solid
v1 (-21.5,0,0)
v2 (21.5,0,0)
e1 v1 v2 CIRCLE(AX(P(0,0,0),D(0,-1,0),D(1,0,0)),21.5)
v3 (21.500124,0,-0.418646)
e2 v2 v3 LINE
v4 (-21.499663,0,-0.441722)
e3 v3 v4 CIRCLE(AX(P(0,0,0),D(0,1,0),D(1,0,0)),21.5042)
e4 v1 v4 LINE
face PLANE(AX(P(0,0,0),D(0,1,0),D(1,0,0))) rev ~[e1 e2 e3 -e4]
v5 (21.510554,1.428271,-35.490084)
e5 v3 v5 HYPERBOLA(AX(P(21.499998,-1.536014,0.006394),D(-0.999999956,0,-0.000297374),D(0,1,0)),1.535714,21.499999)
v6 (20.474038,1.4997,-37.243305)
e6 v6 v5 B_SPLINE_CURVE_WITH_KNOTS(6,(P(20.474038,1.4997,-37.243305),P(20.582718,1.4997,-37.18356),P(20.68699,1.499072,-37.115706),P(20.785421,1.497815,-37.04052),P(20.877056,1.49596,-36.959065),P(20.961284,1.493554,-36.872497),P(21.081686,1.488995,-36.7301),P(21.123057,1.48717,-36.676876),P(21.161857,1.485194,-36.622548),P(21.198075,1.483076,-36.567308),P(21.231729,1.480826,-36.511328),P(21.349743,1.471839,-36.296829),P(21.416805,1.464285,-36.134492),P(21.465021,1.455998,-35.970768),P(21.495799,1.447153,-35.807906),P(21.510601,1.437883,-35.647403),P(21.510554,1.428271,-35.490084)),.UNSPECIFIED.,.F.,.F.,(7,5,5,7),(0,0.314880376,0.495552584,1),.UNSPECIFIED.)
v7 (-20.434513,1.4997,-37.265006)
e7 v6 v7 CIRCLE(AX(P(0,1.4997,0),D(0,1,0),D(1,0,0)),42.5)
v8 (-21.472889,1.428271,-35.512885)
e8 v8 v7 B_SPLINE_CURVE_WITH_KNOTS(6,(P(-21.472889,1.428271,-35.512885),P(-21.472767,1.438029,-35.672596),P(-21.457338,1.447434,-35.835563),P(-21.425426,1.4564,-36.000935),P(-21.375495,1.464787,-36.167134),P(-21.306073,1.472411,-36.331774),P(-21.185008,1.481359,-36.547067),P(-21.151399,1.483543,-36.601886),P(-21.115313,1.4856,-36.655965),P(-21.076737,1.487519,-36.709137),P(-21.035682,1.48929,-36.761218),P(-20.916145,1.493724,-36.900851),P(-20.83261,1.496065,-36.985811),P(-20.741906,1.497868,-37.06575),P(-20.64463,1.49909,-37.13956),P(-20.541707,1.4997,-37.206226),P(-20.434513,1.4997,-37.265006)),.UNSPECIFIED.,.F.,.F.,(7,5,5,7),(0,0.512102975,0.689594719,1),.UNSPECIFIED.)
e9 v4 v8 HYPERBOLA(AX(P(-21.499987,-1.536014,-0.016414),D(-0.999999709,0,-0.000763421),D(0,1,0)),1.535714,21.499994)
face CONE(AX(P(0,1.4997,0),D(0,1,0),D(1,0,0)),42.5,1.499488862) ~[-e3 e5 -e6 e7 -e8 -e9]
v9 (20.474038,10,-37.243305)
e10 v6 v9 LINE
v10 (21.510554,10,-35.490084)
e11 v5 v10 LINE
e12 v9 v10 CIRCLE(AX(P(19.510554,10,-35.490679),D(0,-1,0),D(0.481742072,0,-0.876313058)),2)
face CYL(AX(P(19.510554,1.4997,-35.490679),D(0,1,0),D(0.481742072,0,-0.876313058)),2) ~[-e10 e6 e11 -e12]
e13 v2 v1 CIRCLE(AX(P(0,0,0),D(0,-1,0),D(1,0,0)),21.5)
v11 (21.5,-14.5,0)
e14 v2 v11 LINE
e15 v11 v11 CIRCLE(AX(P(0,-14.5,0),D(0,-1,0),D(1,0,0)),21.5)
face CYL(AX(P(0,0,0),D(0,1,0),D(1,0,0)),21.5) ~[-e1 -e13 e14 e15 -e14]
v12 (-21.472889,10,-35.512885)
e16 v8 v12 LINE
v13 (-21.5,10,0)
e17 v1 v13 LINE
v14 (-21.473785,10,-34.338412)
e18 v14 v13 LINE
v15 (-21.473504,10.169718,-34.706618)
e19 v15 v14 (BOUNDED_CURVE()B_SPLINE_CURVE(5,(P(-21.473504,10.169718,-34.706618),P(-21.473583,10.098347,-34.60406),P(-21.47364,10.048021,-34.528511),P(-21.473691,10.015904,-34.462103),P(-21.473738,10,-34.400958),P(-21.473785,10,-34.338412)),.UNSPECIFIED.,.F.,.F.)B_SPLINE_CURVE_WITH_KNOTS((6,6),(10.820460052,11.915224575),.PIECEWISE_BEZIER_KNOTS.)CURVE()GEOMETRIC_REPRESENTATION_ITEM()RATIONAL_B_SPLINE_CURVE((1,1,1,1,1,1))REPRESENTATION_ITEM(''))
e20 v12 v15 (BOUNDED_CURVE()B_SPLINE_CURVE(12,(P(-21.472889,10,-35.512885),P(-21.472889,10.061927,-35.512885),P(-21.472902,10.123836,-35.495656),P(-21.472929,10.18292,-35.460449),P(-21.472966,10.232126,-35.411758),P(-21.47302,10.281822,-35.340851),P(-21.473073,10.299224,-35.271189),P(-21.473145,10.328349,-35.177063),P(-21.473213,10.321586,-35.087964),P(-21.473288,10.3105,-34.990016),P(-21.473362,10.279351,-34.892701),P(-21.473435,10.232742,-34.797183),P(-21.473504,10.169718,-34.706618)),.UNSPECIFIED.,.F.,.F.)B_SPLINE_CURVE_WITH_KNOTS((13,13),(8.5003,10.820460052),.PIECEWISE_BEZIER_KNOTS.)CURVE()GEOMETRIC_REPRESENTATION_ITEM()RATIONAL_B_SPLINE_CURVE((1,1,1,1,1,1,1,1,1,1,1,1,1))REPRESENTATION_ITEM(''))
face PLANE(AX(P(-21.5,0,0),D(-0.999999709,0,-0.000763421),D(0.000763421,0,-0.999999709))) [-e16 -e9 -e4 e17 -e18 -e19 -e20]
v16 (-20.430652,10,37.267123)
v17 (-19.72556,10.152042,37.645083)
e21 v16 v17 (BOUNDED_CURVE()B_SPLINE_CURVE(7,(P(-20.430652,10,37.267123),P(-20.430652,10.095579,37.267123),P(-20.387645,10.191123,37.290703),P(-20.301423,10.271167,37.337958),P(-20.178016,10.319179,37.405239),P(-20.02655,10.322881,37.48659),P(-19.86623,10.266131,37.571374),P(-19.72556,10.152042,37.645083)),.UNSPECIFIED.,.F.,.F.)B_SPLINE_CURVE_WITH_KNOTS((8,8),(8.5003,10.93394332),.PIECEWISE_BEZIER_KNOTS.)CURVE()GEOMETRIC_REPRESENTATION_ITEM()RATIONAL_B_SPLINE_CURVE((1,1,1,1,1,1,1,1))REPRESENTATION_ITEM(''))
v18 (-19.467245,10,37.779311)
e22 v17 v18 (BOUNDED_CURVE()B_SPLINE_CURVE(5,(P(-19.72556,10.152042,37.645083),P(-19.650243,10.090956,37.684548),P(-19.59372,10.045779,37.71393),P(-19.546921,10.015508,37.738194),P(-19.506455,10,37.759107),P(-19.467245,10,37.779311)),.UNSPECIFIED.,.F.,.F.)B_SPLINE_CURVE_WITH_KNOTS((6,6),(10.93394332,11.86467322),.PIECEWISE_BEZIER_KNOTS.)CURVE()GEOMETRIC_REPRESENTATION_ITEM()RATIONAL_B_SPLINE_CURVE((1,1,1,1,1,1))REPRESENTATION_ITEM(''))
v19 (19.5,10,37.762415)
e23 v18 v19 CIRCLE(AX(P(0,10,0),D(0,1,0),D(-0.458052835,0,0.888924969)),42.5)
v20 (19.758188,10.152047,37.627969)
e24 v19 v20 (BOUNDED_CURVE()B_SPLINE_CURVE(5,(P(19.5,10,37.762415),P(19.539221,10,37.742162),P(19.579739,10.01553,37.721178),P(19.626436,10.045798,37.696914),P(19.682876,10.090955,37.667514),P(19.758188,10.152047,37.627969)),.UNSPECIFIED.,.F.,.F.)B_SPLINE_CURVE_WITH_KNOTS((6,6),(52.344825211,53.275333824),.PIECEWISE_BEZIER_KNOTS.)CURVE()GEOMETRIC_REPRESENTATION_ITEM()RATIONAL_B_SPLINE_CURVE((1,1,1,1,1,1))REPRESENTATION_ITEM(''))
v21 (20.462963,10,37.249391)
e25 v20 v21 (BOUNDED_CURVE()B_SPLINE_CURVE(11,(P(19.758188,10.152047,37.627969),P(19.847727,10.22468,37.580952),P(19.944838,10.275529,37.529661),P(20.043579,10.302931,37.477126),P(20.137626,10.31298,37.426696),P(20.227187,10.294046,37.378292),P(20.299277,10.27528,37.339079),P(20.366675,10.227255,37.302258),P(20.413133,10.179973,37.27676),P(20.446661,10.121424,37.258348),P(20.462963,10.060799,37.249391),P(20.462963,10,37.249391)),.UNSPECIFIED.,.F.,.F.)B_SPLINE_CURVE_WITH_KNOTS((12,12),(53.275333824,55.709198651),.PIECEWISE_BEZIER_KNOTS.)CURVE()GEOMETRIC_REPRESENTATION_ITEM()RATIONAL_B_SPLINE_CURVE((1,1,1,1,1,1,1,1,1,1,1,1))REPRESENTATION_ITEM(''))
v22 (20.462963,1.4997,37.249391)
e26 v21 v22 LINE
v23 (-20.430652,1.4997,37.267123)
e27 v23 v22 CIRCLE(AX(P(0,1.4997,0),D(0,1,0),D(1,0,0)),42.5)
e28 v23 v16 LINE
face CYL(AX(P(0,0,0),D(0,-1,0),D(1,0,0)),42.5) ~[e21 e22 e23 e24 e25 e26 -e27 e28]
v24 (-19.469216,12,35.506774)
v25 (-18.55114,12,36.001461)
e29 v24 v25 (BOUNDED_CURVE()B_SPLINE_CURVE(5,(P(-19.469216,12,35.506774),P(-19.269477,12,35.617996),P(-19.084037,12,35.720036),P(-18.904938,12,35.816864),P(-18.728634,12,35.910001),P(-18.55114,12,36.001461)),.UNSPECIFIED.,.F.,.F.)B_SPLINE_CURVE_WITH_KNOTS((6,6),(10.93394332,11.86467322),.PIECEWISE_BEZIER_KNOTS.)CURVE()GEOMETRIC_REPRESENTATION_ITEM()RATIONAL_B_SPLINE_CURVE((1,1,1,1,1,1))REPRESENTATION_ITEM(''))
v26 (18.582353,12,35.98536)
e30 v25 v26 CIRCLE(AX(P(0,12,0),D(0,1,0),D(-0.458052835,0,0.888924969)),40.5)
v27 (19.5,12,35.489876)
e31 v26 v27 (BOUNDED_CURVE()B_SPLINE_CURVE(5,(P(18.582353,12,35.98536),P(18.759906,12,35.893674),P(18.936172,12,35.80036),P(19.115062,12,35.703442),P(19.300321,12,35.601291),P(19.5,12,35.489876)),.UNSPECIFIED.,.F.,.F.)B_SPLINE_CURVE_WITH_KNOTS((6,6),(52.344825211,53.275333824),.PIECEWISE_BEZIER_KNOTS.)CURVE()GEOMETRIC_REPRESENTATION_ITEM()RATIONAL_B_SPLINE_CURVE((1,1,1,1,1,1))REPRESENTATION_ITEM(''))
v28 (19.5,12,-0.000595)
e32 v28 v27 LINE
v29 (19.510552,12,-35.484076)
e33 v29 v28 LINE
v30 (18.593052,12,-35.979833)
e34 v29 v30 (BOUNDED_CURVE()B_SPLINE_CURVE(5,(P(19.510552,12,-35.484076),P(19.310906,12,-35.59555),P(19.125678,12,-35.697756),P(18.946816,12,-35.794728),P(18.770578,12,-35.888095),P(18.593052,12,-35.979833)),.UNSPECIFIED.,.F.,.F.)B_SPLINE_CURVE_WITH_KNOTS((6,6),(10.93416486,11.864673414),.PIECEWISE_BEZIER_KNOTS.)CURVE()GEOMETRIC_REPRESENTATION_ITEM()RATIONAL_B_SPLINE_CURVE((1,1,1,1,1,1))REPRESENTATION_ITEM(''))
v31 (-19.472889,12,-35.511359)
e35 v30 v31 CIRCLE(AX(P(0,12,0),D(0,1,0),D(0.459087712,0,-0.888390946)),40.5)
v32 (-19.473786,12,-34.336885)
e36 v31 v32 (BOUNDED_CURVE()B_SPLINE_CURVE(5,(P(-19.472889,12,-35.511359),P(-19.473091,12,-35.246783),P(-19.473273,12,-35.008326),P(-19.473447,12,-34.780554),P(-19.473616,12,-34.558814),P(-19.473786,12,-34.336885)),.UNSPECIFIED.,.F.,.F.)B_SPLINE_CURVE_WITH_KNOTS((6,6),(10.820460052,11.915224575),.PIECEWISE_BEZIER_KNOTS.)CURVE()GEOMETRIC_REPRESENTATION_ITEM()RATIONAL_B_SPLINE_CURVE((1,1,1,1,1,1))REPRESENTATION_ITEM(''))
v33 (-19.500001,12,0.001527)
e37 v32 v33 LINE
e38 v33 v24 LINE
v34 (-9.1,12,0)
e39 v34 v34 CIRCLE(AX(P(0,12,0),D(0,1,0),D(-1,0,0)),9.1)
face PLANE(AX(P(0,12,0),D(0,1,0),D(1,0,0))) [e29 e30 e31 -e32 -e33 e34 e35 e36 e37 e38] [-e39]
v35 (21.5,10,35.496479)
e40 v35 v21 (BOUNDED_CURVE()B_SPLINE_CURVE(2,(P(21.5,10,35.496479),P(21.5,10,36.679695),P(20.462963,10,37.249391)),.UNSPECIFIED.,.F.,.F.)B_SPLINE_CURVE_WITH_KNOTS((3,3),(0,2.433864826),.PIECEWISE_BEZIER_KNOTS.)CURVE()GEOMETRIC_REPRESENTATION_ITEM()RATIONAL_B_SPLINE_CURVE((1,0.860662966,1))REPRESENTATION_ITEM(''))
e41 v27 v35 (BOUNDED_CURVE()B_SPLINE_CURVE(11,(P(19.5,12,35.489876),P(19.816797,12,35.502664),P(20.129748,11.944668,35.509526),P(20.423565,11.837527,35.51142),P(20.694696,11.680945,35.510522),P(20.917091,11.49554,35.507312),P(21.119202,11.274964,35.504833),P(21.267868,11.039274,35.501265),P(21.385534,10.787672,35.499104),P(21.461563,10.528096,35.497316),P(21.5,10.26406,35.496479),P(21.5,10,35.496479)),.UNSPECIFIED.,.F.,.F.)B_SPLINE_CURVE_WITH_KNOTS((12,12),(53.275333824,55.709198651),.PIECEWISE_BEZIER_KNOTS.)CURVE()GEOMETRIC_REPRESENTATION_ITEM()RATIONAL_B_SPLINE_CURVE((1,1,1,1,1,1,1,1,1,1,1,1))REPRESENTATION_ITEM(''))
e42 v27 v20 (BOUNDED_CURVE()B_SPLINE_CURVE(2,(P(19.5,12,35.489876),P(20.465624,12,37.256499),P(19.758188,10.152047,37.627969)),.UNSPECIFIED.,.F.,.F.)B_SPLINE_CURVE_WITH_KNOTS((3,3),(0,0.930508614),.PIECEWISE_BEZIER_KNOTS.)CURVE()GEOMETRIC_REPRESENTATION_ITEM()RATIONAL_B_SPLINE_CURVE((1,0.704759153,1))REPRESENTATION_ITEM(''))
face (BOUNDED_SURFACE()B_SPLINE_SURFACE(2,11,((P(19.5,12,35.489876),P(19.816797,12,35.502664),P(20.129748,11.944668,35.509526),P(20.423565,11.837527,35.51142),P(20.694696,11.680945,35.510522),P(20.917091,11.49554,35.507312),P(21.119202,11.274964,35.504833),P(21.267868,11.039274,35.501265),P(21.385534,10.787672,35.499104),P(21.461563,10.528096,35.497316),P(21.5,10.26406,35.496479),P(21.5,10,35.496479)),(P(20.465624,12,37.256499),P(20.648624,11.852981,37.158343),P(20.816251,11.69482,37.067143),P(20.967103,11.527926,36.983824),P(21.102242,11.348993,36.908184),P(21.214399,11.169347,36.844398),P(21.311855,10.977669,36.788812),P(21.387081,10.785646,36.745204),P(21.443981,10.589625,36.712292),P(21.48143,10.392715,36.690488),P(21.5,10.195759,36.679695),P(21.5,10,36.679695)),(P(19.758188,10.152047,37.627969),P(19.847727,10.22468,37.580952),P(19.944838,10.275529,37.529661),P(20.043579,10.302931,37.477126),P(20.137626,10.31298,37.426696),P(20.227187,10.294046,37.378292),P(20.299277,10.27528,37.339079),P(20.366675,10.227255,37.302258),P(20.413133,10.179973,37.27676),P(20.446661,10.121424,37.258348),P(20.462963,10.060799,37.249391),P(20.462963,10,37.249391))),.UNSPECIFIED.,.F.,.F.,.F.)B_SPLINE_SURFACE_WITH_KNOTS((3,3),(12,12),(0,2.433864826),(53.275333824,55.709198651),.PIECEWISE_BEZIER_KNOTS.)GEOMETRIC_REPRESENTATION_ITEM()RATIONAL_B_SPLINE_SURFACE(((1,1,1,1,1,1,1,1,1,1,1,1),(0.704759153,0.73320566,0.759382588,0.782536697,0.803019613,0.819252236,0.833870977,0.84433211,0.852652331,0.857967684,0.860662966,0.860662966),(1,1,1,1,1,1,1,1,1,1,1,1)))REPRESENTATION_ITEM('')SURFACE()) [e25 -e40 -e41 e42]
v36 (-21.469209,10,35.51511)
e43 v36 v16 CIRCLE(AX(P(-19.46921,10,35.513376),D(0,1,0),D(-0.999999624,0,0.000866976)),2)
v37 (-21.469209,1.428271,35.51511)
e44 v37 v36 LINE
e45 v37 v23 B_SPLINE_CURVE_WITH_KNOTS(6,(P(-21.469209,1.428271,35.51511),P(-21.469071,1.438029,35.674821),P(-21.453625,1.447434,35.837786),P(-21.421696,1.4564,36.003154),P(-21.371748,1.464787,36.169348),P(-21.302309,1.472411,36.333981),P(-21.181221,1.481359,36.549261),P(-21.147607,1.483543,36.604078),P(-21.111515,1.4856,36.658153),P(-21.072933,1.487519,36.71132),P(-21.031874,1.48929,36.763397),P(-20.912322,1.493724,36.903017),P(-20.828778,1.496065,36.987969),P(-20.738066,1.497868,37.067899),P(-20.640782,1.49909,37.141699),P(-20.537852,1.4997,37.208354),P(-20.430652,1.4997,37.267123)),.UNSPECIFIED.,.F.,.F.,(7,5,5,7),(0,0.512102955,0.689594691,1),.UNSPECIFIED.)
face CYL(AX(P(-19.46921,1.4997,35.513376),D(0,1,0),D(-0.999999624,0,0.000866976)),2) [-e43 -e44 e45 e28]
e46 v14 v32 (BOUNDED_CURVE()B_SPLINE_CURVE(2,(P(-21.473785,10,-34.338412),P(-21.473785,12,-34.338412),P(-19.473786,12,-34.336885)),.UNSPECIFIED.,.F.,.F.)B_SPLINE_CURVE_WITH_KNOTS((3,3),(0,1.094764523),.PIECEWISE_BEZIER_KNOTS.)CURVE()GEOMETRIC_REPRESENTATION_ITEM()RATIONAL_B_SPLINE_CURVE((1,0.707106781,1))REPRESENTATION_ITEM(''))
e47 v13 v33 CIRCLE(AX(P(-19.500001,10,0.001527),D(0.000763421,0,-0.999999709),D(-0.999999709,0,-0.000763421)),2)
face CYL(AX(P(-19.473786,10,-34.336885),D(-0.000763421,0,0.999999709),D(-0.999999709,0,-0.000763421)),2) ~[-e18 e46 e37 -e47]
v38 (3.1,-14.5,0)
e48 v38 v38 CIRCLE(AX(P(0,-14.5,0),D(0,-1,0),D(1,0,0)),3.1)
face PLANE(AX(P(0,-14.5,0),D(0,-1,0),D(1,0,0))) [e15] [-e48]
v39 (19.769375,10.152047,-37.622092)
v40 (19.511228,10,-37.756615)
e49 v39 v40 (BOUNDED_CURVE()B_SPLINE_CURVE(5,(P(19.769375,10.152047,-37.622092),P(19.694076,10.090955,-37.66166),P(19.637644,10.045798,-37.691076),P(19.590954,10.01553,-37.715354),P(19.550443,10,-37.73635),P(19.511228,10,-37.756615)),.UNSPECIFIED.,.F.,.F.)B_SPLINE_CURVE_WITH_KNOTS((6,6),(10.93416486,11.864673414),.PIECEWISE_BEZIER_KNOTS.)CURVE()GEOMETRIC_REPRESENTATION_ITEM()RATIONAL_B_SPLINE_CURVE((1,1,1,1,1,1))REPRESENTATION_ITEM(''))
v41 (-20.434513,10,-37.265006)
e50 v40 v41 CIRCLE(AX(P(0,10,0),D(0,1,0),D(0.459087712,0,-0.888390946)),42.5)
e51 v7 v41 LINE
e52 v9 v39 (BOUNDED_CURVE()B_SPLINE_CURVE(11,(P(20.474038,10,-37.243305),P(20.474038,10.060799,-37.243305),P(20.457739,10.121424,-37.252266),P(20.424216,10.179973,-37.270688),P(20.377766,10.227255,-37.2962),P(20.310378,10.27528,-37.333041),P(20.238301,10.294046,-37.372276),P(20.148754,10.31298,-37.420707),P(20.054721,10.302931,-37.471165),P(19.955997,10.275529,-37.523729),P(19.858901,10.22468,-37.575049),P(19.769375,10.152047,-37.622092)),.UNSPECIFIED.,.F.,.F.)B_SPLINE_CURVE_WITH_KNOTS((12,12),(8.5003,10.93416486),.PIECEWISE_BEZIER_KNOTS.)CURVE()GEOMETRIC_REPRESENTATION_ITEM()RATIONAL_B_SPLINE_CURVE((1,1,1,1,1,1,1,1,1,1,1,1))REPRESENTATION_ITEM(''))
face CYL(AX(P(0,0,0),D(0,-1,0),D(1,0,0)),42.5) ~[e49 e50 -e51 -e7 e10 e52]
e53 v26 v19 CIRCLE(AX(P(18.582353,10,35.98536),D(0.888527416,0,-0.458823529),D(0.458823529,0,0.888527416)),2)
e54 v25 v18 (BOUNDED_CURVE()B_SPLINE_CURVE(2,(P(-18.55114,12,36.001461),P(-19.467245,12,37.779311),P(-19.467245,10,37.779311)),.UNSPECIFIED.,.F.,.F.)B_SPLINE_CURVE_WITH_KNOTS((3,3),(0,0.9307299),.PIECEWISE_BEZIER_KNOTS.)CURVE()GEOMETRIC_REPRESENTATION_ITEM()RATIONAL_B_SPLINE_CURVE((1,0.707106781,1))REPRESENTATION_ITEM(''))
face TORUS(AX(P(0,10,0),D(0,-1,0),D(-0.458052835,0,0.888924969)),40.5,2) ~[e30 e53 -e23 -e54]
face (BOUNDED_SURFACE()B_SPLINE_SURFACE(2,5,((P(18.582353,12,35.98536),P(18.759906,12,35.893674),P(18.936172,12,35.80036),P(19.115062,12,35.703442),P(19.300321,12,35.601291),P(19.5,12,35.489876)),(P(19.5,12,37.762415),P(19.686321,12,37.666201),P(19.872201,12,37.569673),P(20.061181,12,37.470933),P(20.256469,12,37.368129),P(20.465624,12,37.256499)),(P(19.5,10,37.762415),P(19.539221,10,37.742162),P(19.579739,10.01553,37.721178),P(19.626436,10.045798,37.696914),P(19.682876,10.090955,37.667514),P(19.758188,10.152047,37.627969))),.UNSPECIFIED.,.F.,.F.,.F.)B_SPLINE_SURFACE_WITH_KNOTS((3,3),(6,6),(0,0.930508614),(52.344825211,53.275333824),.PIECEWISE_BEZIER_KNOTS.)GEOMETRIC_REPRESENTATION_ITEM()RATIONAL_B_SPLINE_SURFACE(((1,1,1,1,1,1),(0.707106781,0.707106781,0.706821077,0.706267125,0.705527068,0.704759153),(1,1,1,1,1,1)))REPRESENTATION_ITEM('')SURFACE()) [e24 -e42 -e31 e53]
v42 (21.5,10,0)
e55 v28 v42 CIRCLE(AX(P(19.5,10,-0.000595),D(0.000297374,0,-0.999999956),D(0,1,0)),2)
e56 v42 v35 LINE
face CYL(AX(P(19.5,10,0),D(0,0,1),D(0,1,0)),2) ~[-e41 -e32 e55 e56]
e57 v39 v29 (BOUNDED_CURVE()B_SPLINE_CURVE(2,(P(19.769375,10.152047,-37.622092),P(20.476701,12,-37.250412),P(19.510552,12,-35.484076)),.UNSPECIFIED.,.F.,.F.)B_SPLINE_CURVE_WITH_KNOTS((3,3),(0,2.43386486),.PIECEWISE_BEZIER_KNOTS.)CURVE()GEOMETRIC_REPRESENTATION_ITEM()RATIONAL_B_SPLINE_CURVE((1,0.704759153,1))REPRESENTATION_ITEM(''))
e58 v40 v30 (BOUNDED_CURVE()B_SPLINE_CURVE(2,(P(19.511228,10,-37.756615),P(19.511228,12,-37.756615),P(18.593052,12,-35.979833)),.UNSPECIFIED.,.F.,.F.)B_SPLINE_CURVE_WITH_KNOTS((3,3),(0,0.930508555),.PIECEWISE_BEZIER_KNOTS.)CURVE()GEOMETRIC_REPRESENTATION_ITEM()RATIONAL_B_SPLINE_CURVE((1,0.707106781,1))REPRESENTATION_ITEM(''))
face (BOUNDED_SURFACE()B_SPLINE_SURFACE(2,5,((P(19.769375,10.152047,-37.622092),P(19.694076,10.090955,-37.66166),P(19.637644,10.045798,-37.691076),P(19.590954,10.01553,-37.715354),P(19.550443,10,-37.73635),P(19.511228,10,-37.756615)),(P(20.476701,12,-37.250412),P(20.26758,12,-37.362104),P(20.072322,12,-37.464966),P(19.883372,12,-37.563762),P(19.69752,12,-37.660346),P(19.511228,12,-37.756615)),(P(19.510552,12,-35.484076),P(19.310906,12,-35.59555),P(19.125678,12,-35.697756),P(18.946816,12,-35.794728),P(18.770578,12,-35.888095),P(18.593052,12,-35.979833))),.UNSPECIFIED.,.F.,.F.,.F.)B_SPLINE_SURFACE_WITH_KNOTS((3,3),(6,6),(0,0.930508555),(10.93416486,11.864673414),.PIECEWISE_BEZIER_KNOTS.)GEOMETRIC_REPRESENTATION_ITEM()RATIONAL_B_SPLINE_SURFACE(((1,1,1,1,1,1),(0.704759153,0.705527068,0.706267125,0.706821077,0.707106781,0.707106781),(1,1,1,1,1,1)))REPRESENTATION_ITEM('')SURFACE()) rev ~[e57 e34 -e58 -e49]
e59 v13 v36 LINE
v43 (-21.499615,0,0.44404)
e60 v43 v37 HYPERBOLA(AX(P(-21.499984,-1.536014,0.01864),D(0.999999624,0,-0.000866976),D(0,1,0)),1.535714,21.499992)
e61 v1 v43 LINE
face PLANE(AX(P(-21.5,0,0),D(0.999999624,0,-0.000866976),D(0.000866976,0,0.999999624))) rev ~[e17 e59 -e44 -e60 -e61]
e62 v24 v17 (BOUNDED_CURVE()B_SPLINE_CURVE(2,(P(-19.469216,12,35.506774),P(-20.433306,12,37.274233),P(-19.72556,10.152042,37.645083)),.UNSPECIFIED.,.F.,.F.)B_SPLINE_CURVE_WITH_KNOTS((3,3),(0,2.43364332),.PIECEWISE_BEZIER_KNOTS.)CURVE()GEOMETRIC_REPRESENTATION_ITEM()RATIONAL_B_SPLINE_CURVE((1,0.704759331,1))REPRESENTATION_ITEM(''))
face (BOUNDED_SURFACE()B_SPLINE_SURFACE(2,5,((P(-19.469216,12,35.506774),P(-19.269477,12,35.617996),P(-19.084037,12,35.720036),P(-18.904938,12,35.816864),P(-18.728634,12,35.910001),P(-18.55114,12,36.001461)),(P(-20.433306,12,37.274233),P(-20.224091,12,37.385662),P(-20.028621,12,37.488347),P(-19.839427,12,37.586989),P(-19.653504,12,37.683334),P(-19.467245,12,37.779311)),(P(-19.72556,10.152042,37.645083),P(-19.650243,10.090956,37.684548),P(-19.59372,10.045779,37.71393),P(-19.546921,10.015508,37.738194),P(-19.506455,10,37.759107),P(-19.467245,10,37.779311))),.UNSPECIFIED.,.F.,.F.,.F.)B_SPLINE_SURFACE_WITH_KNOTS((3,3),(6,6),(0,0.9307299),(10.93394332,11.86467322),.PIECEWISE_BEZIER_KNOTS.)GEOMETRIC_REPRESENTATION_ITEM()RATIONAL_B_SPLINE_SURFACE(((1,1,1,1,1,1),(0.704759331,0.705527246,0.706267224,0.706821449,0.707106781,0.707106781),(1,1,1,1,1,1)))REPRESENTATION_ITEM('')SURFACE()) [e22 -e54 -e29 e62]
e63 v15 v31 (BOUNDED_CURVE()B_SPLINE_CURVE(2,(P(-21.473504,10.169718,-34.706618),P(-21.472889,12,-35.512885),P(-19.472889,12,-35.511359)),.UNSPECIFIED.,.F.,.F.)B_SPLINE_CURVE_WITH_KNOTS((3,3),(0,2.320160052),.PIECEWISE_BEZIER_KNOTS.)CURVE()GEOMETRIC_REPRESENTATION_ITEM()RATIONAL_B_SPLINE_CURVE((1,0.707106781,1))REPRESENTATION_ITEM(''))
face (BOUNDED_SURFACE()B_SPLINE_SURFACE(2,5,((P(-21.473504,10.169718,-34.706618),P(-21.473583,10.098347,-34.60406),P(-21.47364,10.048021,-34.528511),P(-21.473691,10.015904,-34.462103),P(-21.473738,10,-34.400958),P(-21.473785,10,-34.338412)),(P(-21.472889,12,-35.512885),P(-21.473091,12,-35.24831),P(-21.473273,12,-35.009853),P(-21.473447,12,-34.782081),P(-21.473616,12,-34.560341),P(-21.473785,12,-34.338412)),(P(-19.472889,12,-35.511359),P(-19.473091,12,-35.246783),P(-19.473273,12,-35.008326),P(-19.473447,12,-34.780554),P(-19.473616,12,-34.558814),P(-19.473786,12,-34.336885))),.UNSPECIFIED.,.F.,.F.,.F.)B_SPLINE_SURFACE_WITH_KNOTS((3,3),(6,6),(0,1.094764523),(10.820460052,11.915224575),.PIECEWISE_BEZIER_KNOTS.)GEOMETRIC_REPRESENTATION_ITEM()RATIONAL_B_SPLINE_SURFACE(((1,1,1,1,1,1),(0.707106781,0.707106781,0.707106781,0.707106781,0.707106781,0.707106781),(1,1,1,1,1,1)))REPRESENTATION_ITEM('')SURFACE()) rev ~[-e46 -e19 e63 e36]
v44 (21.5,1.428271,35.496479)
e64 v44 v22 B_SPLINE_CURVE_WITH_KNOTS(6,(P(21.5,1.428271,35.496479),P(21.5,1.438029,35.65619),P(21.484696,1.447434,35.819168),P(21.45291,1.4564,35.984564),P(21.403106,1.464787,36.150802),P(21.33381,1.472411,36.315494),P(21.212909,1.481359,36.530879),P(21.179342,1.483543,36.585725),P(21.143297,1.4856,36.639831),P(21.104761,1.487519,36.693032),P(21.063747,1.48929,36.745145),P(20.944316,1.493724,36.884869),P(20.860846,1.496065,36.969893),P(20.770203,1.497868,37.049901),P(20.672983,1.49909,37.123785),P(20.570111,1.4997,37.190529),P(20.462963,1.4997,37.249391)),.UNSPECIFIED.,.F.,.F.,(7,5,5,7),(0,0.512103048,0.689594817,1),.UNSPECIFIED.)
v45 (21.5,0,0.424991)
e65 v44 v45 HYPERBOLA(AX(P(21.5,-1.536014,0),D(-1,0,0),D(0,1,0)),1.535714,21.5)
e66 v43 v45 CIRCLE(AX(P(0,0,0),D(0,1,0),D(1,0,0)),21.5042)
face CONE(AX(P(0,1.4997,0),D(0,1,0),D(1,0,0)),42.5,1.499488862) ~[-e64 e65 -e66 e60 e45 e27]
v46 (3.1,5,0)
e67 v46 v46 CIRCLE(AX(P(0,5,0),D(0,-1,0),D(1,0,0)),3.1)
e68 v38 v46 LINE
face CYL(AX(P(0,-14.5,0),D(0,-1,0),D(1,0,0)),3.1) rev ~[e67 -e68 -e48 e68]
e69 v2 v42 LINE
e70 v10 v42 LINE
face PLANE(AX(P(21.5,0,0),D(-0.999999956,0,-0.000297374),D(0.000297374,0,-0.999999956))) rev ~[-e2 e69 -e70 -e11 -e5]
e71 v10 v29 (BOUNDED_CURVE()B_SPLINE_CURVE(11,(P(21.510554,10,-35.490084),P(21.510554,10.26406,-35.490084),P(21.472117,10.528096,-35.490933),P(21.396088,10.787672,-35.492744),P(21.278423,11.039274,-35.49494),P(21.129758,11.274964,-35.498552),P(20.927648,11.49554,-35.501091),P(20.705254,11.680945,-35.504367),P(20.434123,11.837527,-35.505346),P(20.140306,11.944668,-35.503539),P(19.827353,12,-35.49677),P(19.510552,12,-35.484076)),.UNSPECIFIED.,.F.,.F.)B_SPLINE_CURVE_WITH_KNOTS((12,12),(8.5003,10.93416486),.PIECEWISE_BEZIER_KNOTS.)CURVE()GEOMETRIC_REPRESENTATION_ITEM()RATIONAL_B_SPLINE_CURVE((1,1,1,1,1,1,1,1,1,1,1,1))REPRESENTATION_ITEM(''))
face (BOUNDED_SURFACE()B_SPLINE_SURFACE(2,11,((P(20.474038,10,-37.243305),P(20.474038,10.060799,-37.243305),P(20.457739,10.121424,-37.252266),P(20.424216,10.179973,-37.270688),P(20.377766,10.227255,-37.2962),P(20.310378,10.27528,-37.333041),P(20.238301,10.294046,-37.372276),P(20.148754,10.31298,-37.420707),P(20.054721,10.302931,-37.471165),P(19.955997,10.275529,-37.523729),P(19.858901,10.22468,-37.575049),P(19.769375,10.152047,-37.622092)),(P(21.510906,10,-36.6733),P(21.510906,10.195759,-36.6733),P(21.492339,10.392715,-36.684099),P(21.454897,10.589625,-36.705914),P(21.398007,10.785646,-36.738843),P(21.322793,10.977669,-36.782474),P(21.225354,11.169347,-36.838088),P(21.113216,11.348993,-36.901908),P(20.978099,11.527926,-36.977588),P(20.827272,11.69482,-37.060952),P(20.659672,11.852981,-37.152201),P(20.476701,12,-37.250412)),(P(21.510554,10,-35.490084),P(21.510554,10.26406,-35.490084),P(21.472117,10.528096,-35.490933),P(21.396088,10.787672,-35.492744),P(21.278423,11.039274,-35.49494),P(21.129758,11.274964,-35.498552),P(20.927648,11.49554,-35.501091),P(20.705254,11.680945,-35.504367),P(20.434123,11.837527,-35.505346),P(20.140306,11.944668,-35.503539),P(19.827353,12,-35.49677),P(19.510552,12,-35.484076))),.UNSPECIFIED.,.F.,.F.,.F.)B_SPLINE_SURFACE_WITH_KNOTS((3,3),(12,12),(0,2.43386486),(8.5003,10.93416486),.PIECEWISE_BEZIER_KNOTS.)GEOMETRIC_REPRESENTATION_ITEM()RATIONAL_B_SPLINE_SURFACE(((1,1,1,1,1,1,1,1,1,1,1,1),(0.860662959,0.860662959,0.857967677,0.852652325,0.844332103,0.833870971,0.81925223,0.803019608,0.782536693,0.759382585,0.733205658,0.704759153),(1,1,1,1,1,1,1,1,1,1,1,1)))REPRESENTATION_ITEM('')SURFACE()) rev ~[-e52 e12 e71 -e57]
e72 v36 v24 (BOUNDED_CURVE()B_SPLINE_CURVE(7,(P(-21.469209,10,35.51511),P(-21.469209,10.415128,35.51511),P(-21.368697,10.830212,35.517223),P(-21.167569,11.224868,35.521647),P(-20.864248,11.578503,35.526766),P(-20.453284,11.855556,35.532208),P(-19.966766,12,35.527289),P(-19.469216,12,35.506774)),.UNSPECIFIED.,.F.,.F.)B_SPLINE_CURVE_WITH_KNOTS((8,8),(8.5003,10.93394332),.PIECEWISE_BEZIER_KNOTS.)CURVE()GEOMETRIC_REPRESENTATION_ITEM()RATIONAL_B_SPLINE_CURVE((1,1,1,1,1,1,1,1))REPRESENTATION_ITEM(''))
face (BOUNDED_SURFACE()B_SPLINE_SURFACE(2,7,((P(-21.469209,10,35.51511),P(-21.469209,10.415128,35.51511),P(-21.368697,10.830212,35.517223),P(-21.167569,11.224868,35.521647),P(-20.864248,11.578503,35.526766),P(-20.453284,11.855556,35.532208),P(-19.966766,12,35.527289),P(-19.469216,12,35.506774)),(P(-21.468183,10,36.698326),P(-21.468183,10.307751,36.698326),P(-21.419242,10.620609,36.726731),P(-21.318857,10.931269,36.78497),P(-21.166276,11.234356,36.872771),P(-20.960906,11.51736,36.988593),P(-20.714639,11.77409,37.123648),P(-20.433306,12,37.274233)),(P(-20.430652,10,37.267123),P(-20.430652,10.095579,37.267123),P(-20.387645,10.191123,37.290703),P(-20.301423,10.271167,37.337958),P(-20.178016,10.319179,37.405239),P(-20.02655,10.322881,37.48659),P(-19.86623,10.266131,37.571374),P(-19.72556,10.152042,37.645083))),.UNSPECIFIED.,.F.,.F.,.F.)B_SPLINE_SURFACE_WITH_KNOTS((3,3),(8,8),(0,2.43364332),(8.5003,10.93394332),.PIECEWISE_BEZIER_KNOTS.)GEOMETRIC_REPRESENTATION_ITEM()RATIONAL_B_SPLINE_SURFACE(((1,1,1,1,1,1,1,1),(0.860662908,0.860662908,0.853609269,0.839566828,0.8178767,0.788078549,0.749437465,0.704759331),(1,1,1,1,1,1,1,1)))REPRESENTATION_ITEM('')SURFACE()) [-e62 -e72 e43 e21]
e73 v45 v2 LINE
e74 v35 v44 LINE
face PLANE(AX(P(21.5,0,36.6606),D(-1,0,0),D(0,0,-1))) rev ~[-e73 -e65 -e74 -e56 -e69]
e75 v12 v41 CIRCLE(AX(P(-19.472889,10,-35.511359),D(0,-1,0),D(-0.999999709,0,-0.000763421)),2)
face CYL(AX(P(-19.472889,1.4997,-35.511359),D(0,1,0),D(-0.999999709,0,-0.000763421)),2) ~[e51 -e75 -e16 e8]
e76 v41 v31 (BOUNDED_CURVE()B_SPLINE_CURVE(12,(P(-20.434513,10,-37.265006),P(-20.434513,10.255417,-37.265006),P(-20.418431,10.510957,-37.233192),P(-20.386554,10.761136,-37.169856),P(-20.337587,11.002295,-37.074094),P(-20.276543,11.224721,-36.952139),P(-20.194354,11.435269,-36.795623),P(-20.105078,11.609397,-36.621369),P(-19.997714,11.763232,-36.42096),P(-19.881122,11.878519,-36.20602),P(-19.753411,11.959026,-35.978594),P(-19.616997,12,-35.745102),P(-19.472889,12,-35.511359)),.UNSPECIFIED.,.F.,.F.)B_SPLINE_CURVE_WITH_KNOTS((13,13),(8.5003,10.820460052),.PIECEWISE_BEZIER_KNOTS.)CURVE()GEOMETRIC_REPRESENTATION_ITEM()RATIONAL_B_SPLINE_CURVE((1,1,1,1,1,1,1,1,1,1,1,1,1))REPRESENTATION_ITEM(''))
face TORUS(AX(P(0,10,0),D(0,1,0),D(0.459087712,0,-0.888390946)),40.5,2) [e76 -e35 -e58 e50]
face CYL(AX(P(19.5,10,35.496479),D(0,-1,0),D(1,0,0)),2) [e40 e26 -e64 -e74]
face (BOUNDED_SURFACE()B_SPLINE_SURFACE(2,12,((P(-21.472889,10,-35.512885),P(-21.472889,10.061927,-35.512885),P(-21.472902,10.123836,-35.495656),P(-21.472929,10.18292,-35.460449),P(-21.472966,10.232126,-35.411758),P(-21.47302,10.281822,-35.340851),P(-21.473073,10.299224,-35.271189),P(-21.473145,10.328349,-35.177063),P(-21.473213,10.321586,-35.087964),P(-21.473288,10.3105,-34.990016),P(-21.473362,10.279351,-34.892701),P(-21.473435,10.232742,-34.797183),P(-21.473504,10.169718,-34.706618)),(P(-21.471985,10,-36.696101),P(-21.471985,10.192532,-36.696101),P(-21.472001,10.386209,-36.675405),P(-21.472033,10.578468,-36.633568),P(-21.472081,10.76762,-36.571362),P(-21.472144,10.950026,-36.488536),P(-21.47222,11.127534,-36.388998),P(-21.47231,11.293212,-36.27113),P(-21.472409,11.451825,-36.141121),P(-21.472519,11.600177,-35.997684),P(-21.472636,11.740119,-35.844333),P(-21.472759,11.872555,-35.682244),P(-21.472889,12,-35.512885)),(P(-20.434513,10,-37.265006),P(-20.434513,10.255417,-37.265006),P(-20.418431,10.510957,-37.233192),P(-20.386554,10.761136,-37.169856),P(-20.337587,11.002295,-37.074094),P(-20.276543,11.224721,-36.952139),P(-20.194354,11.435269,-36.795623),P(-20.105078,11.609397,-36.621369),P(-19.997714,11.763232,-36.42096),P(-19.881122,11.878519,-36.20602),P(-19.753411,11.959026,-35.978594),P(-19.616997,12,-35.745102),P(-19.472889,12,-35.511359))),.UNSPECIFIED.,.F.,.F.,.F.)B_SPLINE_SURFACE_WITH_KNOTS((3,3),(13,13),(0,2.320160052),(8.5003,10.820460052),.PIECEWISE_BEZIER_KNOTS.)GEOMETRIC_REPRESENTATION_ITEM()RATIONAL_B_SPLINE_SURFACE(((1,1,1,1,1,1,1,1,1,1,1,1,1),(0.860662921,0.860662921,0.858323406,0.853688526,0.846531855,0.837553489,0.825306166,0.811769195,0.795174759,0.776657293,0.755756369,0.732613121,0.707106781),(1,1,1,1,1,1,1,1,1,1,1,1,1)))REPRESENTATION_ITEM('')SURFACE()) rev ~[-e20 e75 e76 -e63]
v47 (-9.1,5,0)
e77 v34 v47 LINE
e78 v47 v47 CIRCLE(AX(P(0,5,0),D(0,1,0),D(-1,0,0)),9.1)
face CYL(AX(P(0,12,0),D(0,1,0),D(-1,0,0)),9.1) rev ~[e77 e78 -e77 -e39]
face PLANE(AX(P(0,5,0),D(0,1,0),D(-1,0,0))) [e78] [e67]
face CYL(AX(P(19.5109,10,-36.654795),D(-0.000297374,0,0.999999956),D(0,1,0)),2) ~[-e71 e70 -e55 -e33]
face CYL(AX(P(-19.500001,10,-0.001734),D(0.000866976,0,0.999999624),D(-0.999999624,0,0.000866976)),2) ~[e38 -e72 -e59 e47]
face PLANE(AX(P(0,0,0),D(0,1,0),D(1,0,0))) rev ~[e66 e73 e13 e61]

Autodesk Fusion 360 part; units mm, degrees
sketch "Esquisse1" plane through (0, 0, 0) normal (0, 1, 0) x (1, 0, 0)
  circle A0 centre (0, 0) radius 42.5
  dimension "d1" = 85
extrude "Extrusion1" add sketch "Esquisse1" along normal blind 12
sketch "Esquisse2" plane through (0, 0, 0) normal (0, -1, 0) x (1, 0, 0)
  circle A0 centre (0, 0) radius 42.5
  circle A1 centre (0, 0) radius 21.5
  dimension "d4" = 43
extrude "Extrusion2" add sketch "Esquisse2" along normal blind 14.5 contours A1
sketch "Esquisse3" plane through (0, -14.5, 0) normal (0, -1, 0) x (1, 0, 0)
  circle A0 centre (0, 0) radius 21.5
  circle A1 centre (0, 0) radius 3.1
  dimension "d7" = 6.2
extrude "Extrusion3" cut sketch "Esquisse3" against normal blind 30 contours A1
chamfer "Chanfrein1" distance 1.5 distance2 21 1 edges at (-39.6239, 0, 15.3687) measured on face at (42.4472, 8, 2.1185)
sketch "Esquisse4" plane through (0, 0, 0) normal (0, -1, 0) x (1, 0, 0)
  circle A0 centre (0, 0) radius 42.5
  circle A1 centre (0, 0) radius 42.5
  line L0 (-21.5, 0) -> (-21.4682, 36.6792)
  line L1 (-21.5, 0) -> (-21.472, -36.677)
  line L2 (21.5, 36.6606) -> (21.5, 0)
  line L3 (21.5, 0) -> (21.5109, -36.6542)
extrude "Extrusion4" cut sketch "Esquisse4" against normal blind 30 contours A0 A1 L2 L3 | A0 A1 L0 L1
sketch "Esquisse5" plane through (0, 12, 0) normal (0, 1, 0) x (-1, 0, 0)
  circle A0 centre (0, 0) radius 3.1
  line L0 (-21.5, 36.6606) -> (-21.5, 0)
  line L1 (-21.5, 0) -> (-21.5109, -36.6542)
  arc A1 (-21.5109, -36.6542) -> (21.472, -36.677) centre (0, 0) ccw
  line L2 (21.472, -36.677) -> (21.5, 0)
  line L3 (21.5, 0) -> (21.4682, 36.6792)
  arc A2 (21.4682, 36.6792) -> (-21.5, 36.6606) centre (0, 0) ccw
  circle A3 centre (0, 0) radius 9.1
  dimension "d18" = 18.2
extrude "Extrusion5" cut sketch "Esquisse5" against normal blind 7 contours A3
fillet "Congé1" radius 2 6 edges at (21.5, 12, 18.3303) (21.5055, 12, -18.3271) (0.0226, 12, -42.5) (-21.486, 12, -18.3385) (-21.4841, 12, 18.3396) (0.0184, 12, 42.5)
